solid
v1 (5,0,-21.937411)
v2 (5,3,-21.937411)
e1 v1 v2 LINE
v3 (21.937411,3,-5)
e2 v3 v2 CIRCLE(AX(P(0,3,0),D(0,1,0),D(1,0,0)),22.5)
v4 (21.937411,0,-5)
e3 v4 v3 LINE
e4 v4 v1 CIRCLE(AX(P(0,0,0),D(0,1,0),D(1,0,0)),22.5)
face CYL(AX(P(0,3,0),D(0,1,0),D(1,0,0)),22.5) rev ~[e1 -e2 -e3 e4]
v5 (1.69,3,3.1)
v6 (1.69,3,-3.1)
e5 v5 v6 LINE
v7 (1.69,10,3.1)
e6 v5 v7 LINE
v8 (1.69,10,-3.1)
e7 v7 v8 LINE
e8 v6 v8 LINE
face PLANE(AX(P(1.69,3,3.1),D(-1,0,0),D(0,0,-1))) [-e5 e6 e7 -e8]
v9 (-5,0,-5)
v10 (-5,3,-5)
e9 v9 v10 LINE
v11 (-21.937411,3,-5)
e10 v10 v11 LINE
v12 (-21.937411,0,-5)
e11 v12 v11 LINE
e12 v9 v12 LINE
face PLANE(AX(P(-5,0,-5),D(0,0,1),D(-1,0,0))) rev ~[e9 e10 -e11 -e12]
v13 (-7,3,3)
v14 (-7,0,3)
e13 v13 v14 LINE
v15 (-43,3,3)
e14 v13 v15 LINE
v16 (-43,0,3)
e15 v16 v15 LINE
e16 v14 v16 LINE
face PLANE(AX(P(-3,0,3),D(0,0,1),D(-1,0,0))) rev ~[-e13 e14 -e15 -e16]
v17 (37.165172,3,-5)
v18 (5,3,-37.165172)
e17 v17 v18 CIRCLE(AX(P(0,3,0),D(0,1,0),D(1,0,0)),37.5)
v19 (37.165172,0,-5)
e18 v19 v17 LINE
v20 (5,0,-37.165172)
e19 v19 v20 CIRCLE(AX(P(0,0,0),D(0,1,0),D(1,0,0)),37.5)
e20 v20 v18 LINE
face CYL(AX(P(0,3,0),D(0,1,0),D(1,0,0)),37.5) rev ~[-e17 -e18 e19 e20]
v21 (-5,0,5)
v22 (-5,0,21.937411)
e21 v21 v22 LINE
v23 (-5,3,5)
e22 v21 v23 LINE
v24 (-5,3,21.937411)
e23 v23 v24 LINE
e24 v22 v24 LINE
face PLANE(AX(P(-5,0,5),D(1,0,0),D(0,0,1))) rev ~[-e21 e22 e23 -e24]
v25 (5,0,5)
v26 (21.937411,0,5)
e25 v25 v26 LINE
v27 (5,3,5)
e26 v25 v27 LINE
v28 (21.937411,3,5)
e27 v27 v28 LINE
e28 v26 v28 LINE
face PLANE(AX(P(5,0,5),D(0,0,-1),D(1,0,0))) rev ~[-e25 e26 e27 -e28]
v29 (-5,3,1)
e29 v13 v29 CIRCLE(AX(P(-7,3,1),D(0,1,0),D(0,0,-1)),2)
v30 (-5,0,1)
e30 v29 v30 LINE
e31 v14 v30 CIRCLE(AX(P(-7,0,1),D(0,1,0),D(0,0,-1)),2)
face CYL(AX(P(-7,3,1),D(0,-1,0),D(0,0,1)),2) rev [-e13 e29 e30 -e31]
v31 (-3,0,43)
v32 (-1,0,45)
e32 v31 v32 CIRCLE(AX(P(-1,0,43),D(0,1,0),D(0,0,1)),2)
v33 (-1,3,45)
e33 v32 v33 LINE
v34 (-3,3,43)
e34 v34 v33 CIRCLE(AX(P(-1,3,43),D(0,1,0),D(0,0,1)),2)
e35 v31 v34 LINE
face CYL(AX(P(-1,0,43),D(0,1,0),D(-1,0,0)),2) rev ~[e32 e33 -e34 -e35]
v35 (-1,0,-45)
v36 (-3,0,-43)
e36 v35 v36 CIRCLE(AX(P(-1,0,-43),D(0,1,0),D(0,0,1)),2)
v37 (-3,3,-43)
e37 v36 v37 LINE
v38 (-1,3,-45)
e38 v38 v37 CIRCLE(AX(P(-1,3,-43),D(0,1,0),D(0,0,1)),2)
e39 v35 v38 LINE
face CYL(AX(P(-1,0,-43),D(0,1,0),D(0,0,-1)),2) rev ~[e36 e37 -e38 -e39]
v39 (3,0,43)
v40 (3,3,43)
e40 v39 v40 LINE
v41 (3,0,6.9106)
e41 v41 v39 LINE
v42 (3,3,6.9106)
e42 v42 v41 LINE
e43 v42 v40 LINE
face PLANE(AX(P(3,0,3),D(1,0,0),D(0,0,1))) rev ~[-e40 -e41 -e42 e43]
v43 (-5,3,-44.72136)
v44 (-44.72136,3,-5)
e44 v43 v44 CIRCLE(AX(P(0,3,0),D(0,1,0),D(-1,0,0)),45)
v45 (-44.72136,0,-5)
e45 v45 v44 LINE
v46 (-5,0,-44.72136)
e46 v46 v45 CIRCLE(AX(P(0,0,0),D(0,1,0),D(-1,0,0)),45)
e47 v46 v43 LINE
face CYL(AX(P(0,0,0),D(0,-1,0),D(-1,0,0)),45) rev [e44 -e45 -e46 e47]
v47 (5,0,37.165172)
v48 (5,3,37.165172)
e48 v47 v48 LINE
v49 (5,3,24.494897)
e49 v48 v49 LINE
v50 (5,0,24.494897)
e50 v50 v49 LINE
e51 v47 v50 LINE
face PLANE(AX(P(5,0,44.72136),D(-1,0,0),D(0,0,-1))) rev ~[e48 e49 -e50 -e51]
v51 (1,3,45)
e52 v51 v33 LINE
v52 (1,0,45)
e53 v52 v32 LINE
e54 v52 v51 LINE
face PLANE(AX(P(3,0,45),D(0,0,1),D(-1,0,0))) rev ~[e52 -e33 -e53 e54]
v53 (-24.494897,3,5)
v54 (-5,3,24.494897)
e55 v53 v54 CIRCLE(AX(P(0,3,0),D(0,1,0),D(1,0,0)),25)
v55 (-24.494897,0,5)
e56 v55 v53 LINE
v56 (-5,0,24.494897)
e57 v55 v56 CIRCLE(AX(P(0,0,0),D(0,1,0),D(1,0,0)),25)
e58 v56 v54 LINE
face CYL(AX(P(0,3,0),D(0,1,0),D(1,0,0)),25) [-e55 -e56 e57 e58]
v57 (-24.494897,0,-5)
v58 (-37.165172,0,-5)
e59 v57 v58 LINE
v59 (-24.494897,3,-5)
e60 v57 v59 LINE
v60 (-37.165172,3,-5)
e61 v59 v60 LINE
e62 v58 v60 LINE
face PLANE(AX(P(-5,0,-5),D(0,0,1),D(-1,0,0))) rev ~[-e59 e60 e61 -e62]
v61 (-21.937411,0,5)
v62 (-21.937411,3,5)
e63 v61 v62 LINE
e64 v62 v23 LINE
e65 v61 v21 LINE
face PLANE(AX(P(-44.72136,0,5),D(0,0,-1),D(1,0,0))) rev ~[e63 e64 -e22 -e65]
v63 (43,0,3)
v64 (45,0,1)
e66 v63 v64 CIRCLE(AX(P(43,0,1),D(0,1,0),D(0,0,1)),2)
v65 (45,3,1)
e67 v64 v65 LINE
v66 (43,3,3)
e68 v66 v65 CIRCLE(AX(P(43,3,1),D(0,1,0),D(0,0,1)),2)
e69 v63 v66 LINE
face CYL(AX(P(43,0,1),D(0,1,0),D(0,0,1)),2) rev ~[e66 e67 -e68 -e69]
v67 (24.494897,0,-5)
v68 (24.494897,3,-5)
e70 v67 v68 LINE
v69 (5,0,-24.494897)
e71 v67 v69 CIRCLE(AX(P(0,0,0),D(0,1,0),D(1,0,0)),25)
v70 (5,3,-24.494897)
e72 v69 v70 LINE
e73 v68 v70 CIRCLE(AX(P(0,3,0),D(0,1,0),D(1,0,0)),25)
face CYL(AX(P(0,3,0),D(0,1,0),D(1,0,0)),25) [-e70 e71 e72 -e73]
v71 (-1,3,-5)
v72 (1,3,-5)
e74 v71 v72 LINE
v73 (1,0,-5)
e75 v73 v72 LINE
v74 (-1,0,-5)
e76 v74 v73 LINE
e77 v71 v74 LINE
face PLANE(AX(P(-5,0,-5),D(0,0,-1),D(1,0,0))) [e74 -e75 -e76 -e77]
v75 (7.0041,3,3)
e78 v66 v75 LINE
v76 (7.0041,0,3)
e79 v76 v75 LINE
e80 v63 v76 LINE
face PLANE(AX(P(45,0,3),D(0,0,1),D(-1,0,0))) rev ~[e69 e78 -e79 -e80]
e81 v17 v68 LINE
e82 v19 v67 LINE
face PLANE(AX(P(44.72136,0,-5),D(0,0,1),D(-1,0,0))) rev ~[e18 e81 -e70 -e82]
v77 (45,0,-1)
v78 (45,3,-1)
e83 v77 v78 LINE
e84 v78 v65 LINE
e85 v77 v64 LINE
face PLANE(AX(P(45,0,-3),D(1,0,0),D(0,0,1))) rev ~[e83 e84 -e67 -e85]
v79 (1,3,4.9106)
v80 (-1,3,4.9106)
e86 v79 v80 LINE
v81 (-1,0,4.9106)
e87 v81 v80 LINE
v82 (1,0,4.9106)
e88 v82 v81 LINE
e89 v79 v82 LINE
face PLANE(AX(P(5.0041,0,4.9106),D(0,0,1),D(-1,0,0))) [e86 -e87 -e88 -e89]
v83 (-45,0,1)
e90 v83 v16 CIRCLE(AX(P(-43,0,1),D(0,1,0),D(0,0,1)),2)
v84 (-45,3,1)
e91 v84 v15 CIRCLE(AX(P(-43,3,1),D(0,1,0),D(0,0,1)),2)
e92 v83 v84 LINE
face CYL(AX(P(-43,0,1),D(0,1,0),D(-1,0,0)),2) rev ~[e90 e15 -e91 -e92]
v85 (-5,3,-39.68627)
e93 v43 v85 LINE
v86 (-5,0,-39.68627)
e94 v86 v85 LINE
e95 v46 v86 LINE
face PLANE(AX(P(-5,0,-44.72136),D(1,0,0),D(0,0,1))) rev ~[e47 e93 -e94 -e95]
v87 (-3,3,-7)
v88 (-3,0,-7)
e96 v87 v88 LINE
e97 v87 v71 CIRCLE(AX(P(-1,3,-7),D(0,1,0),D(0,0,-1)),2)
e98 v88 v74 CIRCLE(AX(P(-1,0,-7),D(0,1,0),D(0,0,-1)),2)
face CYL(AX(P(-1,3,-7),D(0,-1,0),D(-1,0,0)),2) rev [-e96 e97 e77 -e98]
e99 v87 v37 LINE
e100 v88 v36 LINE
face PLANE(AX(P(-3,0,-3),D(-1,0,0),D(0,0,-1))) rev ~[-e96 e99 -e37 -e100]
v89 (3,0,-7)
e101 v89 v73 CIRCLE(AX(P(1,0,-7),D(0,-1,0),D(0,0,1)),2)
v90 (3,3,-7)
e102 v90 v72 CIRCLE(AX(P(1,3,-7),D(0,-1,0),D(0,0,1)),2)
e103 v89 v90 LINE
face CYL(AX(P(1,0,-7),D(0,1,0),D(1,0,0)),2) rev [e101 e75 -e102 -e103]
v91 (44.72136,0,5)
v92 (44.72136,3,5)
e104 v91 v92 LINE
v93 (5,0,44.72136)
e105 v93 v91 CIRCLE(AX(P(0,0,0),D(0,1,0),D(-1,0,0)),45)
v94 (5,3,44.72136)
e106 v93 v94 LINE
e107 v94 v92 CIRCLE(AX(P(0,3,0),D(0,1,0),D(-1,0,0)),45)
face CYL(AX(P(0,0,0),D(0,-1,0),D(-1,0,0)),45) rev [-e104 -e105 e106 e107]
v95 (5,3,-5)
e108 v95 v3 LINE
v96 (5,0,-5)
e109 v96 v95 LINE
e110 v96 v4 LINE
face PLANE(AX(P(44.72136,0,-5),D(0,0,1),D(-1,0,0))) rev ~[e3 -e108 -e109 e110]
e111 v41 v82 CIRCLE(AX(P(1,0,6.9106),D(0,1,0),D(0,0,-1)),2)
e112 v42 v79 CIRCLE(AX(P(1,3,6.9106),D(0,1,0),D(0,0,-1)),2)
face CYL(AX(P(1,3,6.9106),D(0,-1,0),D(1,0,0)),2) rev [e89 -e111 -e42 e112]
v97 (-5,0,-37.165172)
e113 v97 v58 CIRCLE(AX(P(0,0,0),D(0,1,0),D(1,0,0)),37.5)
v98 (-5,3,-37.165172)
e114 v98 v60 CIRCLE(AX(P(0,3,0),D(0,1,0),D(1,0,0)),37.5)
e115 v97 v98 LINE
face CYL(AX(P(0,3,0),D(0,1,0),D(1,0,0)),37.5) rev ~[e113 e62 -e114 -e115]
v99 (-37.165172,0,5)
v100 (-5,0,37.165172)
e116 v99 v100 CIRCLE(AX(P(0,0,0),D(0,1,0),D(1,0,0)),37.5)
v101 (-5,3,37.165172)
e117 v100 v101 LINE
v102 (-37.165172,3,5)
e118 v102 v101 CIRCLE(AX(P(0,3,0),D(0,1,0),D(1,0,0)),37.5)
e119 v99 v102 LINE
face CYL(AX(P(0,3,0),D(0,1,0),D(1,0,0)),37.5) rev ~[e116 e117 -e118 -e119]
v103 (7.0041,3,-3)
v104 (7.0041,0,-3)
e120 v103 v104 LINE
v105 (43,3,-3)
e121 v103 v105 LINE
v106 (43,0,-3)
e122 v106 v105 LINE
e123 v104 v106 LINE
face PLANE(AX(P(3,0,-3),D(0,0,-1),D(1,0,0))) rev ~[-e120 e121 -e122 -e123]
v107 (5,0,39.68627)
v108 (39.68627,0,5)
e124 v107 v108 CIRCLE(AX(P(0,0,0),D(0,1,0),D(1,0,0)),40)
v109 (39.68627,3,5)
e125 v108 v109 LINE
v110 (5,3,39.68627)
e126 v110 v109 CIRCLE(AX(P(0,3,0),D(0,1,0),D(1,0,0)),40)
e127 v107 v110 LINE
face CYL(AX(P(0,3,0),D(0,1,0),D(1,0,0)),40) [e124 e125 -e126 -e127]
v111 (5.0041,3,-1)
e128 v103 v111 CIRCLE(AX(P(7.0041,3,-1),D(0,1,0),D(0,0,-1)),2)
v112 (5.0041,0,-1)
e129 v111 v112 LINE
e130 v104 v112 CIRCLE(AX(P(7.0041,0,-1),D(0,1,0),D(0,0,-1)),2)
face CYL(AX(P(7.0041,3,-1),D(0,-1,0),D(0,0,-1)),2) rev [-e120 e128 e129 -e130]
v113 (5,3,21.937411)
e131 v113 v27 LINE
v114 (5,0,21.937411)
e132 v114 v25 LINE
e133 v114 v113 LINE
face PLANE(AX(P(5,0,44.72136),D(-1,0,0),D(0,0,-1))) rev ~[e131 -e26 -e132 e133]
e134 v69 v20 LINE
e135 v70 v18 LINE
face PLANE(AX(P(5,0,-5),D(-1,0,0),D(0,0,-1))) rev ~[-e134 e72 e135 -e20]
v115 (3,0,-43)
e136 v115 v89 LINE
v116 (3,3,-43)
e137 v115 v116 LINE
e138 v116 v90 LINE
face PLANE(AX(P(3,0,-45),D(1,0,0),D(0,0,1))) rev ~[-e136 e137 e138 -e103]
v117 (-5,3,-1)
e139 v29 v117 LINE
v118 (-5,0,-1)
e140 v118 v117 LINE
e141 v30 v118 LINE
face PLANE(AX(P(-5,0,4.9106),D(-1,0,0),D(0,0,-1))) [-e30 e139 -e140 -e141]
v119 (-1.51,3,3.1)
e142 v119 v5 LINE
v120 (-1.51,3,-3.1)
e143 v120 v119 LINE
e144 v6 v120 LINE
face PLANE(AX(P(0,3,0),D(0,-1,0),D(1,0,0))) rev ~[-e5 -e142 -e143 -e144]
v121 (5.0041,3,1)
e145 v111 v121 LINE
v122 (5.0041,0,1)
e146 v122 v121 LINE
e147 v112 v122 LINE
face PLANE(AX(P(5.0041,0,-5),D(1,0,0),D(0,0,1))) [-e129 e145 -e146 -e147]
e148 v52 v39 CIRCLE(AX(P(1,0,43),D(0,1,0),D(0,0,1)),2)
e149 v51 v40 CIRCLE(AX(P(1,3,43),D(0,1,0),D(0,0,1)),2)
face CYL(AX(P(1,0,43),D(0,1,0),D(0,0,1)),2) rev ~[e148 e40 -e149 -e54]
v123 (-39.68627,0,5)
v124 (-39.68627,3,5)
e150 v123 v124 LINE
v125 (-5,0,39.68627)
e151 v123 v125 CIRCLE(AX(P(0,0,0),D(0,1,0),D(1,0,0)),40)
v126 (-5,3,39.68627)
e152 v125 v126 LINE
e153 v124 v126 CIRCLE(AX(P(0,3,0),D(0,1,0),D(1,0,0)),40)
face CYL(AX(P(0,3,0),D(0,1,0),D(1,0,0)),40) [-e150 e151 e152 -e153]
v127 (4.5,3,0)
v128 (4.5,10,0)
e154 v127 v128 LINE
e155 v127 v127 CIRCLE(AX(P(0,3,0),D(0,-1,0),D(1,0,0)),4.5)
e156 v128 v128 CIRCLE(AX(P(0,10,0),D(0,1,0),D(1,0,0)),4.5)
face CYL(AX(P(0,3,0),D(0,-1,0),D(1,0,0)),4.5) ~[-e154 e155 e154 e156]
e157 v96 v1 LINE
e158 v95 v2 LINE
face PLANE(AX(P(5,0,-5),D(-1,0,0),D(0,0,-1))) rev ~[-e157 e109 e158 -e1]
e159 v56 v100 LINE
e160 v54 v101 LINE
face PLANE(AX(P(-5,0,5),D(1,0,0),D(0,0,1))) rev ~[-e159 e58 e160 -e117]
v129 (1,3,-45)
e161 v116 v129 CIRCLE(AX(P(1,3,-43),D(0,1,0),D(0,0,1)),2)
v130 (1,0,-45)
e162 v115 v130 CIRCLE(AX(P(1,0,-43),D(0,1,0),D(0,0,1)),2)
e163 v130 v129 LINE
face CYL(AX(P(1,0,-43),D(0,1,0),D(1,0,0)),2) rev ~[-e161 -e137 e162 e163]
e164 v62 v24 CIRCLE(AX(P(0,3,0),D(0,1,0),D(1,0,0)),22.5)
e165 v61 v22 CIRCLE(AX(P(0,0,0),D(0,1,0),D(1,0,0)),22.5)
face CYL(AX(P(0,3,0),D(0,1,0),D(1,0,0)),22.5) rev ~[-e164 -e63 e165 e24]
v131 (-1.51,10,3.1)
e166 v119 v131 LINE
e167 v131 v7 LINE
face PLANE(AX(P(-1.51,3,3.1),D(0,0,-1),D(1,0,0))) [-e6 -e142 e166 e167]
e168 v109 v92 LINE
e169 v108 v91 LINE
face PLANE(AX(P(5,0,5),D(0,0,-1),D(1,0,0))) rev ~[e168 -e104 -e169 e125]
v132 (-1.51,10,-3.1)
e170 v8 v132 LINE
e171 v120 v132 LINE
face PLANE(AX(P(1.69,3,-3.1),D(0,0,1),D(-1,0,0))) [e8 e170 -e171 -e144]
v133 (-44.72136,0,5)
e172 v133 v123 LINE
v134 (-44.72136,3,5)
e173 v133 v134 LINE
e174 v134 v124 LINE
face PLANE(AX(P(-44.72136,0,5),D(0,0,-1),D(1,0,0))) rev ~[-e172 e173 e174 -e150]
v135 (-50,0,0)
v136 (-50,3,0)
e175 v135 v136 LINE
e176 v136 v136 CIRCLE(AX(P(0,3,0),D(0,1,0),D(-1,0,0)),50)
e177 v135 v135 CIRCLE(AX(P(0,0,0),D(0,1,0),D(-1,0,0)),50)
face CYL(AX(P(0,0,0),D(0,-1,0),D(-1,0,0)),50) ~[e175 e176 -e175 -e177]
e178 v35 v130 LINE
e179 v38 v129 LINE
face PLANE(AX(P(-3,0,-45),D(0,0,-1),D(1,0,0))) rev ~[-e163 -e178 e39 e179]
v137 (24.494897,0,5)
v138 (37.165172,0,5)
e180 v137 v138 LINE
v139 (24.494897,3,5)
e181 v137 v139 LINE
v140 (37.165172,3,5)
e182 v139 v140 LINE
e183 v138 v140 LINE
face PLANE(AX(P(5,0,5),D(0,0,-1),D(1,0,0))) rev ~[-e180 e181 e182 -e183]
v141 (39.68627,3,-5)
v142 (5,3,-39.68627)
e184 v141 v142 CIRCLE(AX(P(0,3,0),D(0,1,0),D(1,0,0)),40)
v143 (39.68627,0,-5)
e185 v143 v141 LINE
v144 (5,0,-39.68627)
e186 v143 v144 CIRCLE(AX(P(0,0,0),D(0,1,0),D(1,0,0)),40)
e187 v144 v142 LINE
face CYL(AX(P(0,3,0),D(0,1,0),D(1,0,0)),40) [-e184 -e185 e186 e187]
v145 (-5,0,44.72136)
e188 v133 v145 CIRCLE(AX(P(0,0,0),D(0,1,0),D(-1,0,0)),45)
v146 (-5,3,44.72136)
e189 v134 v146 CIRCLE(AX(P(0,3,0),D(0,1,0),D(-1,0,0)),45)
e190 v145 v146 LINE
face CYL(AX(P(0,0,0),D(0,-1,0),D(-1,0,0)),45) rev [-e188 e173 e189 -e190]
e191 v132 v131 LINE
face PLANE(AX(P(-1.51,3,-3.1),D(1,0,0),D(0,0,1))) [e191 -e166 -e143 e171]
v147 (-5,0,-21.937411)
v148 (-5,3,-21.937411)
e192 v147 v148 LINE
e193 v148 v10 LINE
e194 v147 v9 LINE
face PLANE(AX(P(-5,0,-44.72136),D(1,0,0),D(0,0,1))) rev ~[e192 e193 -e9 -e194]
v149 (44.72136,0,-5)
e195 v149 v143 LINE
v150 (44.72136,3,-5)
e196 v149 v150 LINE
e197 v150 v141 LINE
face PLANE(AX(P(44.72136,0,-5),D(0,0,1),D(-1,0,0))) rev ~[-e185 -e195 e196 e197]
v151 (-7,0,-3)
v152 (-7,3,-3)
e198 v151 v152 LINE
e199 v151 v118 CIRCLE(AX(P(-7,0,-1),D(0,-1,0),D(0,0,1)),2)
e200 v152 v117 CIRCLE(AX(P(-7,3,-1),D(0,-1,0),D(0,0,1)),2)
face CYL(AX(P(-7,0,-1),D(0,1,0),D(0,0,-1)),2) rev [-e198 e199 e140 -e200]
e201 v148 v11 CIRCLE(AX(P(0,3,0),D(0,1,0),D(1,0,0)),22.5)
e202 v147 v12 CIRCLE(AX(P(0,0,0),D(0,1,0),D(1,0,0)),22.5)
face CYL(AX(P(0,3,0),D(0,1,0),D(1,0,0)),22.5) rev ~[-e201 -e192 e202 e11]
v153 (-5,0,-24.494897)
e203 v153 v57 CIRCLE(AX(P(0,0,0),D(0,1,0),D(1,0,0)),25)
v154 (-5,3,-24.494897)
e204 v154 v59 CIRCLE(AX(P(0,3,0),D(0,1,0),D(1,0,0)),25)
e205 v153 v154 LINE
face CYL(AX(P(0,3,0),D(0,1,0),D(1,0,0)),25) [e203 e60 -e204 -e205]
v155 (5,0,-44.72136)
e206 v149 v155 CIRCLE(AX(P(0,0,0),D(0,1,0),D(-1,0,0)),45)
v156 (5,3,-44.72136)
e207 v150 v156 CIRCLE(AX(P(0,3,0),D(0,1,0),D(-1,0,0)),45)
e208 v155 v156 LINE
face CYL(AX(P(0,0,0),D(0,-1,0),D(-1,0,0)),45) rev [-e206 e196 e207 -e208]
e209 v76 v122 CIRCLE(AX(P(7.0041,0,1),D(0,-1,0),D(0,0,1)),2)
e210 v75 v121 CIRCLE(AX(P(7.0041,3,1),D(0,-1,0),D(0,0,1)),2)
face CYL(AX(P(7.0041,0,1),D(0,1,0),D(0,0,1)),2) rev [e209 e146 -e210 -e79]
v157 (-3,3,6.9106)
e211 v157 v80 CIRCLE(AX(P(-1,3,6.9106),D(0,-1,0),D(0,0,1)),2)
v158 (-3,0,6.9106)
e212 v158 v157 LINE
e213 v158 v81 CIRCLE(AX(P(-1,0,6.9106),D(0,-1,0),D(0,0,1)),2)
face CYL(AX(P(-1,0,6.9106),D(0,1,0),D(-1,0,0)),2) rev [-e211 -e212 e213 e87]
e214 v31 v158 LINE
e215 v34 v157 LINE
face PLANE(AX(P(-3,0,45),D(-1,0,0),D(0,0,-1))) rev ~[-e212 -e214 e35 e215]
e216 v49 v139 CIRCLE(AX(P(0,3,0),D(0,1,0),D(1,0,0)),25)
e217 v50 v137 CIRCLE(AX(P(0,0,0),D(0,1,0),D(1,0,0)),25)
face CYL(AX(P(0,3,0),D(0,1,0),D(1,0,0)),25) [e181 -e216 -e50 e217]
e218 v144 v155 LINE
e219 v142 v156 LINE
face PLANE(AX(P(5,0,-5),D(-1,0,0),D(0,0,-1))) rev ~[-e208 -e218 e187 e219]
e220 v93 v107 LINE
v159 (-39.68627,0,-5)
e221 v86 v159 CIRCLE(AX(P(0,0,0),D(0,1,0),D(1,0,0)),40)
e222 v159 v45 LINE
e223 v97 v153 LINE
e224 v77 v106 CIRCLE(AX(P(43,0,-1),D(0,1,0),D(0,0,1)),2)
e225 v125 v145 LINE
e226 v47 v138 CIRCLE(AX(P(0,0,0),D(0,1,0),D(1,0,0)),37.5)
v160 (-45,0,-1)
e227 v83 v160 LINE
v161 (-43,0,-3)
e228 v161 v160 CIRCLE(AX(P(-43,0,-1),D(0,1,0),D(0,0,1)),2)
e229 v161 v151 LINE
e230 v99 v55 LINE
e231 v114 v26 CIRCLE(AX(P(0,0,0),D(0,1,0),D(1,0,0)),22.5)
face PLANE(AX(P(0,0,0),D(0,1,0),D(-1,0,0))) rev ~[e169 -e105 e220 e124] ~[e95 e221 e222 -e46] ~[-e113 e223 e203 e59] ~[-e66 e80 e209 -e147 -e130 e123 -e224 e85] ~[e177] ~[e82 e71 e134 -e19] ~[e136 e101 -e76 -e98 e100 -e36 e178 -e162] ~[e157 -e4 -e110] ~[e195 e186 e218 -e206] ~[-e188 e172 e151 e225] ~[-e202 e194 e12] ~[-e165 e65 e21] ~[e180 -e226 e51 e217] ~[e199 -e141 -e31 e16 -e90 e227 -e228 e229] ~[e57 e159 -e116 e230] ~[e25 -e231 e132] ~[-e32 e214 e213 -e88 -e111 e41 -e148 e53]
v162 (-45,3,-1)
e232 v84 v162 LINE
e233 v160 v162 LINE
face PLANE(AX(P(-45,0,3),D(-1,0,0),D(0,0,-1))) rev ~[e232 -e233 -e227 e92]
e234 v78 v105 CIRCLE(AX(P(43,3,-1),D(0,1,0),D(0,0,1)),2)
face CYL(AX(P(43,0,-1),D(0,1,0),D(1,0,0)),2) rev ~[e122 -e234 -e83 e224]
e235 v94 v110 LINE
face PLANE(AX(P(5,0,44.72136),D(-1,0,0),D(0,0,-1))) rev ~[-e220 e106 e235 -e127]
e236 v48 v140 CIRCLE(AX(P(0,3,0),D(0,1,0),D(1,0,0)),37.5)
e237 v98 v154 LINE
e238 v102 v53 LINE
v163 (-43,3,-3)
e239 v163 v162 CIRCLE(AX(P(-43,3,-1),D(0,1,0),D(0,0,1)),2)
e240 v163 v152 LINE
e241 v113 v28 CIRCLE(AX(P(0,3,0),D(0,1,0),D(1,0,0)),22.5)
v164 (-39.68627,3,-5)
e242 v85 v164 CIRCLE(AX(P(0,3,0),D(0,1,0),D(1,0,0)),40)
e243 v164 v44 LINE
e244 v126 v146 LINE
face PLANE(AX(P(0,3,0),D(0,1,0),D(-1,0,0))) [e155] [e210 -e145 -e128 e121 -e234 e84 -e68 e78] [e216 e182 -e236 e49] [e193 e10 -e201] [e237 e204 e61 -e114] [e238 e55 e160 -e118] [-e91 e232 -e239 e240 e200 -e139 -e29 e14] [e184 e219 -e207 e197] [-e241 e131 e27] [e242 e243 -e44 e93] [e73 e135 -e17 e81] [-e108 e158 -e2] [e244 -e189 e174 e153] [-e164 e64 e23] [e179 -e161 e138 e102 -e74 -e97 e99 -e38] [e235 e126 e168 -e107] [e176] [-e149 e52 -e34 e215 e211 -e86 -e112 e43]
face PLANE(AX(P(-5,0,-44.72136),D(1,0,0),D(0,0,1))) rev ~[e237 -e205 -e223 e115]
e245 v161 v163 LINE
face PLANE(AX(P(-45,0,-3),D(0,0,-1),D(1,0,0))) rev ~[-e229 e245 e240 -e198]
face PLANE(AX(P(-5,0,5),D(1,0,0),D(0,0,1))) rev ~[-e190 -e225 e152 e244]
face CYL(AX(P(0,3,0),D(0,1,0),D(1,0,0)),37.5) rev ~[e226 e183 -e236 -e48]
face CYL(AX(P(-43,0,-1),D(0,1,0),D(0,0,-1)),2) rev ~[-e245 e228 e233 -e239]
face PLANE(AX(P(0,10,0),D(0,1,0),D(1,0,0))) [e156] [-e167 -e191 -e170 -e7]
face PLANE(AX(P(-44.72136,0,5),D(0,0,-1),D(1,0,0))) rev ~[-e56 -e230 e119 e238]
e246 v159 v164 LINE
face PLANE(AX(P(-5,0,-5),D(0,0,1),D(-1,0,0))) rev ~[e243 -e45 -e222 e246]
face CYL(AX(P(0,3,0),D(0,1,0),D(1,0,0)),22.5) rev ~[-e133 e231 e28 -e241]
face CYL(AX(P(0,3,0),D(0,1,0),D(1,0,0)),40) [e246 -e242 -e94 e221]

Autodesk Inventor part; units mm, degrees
ref_plane "YZ Plane" through (0, 0, 0) normal (1, 0, 0) x (0, 1, 0)
ref_plane "XZ Plane" through (0, 0, 0) normal (0, 1, 0) x (-1, 0, 0)
ref_plane "XY Plane" through (0, 0, 0) normal (0, 0, 1) x (1, 0, 0)
sketch "Sketch1" plane through (0, 0, 0) normal (0, 1, 0) x (-1, 0, 0)
  circle A0 centre (0, 0) radius 50
  circle A1 centre (0, 0) radius 45
  line L0 (5, 48.7261) -> (-5, 48.7261)
  line L1 (-5, 48.7261) -> (-5, -48.4617)
  line L2 (-5, -48.4617) -> (5, -48.4617)
  line L3 (5, -48.4617) -> (5, 48.7261)
  line L4 (48.4415, 5) -> (-48.0304, 5)
  line L5 (-48.0304, 5) -> (-48.0304, -5)
  line L6 (-48.0304, -5) -> (48.4415, -5)
  line L7 (48.4415, -5) -> (48.4415, 5)
  dimension "d0" = 100
  dimension "d1" = 90
  dimension "d2" = 5
  dimension "d3" = 5
  dimension "d4" = 5
  dimension "d5" = 5
extrude "Extrusion1" add sketch "Sketch1" along normal blind 3 contours A0 | A1 L6 L3 L4 | A1 L4 L7 L6 | L3 L4 L1 A1 | A1 L1 L0 L3 | L3 L6 L1 L4 | L3 L2 L1 A1 | A1 L1 L6 L3 | L1 L6 A1 L4 | A1 L6 L5 L4
sketch "Sketch2" plane through (0, 3, 0) normal (0, 1, 0) x (1, 0, 0)
  circle A0 centre (0, 0) radius 40
  circle A1 centre (0, 0) radius 37.5
  circle A2 centre (0, 0) radius 25
  circle A3 centre (0, 0) radius 22.5
  dimension "d8" = 80
  dimension "d9" = 75
  dimension "d10" = 50
  dimension "d11" = 45
extrude "Extrusion2" add sketch "Sketch2" against normal blind 3
sketch "Sketch3" plane through (0, 3, 0) normal (0, 1, 0) x (1, 0, 0)
  circle A0 centre (0, 0) radius 4.5
  line L0 (-1.51, -3.1) -> (1.69, -3.1)
  line L1 (1.69, -3.1) -> (1.69, 3.1)
  line L2 (1.69, 3.1) -> (-1.51, 3.1)
  line L3 (-1.51, 3.1) -> (-1.51, -3.1)
  dimension "d14" = 9
  dimension "d15" = 6.2
  dimension "d16" = 3.2
  dimension "d17" = 1.51
  dimension "d18" = 3.1
extrude "Extrusion3" add sketch "Sketch3" along normal blind 7
sketch "Sketch4" plane through (0, 3, 0) normal (0, 1, 0) x (1, 0, 0)
  point P0 (0, 0)
sketch "Sketch5" plane through (0, 0, 0) normal (0, -1, 0) x (1, 0, 0)
  line L0 (45, 3) -> (-45, 3)
  line L1 (-45, 3) -> (-45, -3)
  line L2 (-45, -3) -> (45, -3)
  line L3 (45, -3) -> (45, 3)
  line L4 (3, 45) -> (-3, 45)
  line L5 (-3, 45) -> (-3, -45)
  line L6 (-3, -45) -> (3, -45)
  line L7 (3, -45) -> (3, 45)
  point P0 (0, 0)
  dimension "d21" = 90
  dimension "d22" = 90
  dimension "d23" = 45
  dimension "d24" = 45
  dimension "d25" = 3
  dimension "d26" = 3
  dimension "d27" = 3
  dimension "d28" = 3
extrude "Extrusion4" cut sketch "Sketch5" against normal blind 3
sketch "Sketch6" plane through (0, 0, 0) normal (0, -1, 0) x (1, 0, 0)
  line L0 (5.0041, 4.9106) -> (-5, 4.9106)
  line L1 (-5, 4.9106) -> (-5, -5)
  line L2 (-5, -5) -> (5.0041, -5)
  line L3 (5.0041, -5) -> (5.0041, 4.9106)
  point P0 (0, 0)
extrude "Extrusion5" add sketch "Sketch6" against normal blind 3
fillet "Fillet1" radius 2 8 edges at (3, 1.5, 4.9106) (-3, 1.5, 4.9106) (-5, 1.5, 3) (-5, 1.5, -3) (-3, 1.5, -5) (3, 1.5, -5) (5.0041, 1.5, -3) (5.0041, 1.5, 3)
fillet "Fillet2" radius 2 8 edges at (45, 1.5, 3) (45, 1.5, -3) (3, 1.5, 45) (-3, 1.5, 45) (-45, 1.5, 3) (-45, 1.5, -3) (-3, 1.5, -45) (3, 1.5, -45)
properties part number "Scanning Disk"
